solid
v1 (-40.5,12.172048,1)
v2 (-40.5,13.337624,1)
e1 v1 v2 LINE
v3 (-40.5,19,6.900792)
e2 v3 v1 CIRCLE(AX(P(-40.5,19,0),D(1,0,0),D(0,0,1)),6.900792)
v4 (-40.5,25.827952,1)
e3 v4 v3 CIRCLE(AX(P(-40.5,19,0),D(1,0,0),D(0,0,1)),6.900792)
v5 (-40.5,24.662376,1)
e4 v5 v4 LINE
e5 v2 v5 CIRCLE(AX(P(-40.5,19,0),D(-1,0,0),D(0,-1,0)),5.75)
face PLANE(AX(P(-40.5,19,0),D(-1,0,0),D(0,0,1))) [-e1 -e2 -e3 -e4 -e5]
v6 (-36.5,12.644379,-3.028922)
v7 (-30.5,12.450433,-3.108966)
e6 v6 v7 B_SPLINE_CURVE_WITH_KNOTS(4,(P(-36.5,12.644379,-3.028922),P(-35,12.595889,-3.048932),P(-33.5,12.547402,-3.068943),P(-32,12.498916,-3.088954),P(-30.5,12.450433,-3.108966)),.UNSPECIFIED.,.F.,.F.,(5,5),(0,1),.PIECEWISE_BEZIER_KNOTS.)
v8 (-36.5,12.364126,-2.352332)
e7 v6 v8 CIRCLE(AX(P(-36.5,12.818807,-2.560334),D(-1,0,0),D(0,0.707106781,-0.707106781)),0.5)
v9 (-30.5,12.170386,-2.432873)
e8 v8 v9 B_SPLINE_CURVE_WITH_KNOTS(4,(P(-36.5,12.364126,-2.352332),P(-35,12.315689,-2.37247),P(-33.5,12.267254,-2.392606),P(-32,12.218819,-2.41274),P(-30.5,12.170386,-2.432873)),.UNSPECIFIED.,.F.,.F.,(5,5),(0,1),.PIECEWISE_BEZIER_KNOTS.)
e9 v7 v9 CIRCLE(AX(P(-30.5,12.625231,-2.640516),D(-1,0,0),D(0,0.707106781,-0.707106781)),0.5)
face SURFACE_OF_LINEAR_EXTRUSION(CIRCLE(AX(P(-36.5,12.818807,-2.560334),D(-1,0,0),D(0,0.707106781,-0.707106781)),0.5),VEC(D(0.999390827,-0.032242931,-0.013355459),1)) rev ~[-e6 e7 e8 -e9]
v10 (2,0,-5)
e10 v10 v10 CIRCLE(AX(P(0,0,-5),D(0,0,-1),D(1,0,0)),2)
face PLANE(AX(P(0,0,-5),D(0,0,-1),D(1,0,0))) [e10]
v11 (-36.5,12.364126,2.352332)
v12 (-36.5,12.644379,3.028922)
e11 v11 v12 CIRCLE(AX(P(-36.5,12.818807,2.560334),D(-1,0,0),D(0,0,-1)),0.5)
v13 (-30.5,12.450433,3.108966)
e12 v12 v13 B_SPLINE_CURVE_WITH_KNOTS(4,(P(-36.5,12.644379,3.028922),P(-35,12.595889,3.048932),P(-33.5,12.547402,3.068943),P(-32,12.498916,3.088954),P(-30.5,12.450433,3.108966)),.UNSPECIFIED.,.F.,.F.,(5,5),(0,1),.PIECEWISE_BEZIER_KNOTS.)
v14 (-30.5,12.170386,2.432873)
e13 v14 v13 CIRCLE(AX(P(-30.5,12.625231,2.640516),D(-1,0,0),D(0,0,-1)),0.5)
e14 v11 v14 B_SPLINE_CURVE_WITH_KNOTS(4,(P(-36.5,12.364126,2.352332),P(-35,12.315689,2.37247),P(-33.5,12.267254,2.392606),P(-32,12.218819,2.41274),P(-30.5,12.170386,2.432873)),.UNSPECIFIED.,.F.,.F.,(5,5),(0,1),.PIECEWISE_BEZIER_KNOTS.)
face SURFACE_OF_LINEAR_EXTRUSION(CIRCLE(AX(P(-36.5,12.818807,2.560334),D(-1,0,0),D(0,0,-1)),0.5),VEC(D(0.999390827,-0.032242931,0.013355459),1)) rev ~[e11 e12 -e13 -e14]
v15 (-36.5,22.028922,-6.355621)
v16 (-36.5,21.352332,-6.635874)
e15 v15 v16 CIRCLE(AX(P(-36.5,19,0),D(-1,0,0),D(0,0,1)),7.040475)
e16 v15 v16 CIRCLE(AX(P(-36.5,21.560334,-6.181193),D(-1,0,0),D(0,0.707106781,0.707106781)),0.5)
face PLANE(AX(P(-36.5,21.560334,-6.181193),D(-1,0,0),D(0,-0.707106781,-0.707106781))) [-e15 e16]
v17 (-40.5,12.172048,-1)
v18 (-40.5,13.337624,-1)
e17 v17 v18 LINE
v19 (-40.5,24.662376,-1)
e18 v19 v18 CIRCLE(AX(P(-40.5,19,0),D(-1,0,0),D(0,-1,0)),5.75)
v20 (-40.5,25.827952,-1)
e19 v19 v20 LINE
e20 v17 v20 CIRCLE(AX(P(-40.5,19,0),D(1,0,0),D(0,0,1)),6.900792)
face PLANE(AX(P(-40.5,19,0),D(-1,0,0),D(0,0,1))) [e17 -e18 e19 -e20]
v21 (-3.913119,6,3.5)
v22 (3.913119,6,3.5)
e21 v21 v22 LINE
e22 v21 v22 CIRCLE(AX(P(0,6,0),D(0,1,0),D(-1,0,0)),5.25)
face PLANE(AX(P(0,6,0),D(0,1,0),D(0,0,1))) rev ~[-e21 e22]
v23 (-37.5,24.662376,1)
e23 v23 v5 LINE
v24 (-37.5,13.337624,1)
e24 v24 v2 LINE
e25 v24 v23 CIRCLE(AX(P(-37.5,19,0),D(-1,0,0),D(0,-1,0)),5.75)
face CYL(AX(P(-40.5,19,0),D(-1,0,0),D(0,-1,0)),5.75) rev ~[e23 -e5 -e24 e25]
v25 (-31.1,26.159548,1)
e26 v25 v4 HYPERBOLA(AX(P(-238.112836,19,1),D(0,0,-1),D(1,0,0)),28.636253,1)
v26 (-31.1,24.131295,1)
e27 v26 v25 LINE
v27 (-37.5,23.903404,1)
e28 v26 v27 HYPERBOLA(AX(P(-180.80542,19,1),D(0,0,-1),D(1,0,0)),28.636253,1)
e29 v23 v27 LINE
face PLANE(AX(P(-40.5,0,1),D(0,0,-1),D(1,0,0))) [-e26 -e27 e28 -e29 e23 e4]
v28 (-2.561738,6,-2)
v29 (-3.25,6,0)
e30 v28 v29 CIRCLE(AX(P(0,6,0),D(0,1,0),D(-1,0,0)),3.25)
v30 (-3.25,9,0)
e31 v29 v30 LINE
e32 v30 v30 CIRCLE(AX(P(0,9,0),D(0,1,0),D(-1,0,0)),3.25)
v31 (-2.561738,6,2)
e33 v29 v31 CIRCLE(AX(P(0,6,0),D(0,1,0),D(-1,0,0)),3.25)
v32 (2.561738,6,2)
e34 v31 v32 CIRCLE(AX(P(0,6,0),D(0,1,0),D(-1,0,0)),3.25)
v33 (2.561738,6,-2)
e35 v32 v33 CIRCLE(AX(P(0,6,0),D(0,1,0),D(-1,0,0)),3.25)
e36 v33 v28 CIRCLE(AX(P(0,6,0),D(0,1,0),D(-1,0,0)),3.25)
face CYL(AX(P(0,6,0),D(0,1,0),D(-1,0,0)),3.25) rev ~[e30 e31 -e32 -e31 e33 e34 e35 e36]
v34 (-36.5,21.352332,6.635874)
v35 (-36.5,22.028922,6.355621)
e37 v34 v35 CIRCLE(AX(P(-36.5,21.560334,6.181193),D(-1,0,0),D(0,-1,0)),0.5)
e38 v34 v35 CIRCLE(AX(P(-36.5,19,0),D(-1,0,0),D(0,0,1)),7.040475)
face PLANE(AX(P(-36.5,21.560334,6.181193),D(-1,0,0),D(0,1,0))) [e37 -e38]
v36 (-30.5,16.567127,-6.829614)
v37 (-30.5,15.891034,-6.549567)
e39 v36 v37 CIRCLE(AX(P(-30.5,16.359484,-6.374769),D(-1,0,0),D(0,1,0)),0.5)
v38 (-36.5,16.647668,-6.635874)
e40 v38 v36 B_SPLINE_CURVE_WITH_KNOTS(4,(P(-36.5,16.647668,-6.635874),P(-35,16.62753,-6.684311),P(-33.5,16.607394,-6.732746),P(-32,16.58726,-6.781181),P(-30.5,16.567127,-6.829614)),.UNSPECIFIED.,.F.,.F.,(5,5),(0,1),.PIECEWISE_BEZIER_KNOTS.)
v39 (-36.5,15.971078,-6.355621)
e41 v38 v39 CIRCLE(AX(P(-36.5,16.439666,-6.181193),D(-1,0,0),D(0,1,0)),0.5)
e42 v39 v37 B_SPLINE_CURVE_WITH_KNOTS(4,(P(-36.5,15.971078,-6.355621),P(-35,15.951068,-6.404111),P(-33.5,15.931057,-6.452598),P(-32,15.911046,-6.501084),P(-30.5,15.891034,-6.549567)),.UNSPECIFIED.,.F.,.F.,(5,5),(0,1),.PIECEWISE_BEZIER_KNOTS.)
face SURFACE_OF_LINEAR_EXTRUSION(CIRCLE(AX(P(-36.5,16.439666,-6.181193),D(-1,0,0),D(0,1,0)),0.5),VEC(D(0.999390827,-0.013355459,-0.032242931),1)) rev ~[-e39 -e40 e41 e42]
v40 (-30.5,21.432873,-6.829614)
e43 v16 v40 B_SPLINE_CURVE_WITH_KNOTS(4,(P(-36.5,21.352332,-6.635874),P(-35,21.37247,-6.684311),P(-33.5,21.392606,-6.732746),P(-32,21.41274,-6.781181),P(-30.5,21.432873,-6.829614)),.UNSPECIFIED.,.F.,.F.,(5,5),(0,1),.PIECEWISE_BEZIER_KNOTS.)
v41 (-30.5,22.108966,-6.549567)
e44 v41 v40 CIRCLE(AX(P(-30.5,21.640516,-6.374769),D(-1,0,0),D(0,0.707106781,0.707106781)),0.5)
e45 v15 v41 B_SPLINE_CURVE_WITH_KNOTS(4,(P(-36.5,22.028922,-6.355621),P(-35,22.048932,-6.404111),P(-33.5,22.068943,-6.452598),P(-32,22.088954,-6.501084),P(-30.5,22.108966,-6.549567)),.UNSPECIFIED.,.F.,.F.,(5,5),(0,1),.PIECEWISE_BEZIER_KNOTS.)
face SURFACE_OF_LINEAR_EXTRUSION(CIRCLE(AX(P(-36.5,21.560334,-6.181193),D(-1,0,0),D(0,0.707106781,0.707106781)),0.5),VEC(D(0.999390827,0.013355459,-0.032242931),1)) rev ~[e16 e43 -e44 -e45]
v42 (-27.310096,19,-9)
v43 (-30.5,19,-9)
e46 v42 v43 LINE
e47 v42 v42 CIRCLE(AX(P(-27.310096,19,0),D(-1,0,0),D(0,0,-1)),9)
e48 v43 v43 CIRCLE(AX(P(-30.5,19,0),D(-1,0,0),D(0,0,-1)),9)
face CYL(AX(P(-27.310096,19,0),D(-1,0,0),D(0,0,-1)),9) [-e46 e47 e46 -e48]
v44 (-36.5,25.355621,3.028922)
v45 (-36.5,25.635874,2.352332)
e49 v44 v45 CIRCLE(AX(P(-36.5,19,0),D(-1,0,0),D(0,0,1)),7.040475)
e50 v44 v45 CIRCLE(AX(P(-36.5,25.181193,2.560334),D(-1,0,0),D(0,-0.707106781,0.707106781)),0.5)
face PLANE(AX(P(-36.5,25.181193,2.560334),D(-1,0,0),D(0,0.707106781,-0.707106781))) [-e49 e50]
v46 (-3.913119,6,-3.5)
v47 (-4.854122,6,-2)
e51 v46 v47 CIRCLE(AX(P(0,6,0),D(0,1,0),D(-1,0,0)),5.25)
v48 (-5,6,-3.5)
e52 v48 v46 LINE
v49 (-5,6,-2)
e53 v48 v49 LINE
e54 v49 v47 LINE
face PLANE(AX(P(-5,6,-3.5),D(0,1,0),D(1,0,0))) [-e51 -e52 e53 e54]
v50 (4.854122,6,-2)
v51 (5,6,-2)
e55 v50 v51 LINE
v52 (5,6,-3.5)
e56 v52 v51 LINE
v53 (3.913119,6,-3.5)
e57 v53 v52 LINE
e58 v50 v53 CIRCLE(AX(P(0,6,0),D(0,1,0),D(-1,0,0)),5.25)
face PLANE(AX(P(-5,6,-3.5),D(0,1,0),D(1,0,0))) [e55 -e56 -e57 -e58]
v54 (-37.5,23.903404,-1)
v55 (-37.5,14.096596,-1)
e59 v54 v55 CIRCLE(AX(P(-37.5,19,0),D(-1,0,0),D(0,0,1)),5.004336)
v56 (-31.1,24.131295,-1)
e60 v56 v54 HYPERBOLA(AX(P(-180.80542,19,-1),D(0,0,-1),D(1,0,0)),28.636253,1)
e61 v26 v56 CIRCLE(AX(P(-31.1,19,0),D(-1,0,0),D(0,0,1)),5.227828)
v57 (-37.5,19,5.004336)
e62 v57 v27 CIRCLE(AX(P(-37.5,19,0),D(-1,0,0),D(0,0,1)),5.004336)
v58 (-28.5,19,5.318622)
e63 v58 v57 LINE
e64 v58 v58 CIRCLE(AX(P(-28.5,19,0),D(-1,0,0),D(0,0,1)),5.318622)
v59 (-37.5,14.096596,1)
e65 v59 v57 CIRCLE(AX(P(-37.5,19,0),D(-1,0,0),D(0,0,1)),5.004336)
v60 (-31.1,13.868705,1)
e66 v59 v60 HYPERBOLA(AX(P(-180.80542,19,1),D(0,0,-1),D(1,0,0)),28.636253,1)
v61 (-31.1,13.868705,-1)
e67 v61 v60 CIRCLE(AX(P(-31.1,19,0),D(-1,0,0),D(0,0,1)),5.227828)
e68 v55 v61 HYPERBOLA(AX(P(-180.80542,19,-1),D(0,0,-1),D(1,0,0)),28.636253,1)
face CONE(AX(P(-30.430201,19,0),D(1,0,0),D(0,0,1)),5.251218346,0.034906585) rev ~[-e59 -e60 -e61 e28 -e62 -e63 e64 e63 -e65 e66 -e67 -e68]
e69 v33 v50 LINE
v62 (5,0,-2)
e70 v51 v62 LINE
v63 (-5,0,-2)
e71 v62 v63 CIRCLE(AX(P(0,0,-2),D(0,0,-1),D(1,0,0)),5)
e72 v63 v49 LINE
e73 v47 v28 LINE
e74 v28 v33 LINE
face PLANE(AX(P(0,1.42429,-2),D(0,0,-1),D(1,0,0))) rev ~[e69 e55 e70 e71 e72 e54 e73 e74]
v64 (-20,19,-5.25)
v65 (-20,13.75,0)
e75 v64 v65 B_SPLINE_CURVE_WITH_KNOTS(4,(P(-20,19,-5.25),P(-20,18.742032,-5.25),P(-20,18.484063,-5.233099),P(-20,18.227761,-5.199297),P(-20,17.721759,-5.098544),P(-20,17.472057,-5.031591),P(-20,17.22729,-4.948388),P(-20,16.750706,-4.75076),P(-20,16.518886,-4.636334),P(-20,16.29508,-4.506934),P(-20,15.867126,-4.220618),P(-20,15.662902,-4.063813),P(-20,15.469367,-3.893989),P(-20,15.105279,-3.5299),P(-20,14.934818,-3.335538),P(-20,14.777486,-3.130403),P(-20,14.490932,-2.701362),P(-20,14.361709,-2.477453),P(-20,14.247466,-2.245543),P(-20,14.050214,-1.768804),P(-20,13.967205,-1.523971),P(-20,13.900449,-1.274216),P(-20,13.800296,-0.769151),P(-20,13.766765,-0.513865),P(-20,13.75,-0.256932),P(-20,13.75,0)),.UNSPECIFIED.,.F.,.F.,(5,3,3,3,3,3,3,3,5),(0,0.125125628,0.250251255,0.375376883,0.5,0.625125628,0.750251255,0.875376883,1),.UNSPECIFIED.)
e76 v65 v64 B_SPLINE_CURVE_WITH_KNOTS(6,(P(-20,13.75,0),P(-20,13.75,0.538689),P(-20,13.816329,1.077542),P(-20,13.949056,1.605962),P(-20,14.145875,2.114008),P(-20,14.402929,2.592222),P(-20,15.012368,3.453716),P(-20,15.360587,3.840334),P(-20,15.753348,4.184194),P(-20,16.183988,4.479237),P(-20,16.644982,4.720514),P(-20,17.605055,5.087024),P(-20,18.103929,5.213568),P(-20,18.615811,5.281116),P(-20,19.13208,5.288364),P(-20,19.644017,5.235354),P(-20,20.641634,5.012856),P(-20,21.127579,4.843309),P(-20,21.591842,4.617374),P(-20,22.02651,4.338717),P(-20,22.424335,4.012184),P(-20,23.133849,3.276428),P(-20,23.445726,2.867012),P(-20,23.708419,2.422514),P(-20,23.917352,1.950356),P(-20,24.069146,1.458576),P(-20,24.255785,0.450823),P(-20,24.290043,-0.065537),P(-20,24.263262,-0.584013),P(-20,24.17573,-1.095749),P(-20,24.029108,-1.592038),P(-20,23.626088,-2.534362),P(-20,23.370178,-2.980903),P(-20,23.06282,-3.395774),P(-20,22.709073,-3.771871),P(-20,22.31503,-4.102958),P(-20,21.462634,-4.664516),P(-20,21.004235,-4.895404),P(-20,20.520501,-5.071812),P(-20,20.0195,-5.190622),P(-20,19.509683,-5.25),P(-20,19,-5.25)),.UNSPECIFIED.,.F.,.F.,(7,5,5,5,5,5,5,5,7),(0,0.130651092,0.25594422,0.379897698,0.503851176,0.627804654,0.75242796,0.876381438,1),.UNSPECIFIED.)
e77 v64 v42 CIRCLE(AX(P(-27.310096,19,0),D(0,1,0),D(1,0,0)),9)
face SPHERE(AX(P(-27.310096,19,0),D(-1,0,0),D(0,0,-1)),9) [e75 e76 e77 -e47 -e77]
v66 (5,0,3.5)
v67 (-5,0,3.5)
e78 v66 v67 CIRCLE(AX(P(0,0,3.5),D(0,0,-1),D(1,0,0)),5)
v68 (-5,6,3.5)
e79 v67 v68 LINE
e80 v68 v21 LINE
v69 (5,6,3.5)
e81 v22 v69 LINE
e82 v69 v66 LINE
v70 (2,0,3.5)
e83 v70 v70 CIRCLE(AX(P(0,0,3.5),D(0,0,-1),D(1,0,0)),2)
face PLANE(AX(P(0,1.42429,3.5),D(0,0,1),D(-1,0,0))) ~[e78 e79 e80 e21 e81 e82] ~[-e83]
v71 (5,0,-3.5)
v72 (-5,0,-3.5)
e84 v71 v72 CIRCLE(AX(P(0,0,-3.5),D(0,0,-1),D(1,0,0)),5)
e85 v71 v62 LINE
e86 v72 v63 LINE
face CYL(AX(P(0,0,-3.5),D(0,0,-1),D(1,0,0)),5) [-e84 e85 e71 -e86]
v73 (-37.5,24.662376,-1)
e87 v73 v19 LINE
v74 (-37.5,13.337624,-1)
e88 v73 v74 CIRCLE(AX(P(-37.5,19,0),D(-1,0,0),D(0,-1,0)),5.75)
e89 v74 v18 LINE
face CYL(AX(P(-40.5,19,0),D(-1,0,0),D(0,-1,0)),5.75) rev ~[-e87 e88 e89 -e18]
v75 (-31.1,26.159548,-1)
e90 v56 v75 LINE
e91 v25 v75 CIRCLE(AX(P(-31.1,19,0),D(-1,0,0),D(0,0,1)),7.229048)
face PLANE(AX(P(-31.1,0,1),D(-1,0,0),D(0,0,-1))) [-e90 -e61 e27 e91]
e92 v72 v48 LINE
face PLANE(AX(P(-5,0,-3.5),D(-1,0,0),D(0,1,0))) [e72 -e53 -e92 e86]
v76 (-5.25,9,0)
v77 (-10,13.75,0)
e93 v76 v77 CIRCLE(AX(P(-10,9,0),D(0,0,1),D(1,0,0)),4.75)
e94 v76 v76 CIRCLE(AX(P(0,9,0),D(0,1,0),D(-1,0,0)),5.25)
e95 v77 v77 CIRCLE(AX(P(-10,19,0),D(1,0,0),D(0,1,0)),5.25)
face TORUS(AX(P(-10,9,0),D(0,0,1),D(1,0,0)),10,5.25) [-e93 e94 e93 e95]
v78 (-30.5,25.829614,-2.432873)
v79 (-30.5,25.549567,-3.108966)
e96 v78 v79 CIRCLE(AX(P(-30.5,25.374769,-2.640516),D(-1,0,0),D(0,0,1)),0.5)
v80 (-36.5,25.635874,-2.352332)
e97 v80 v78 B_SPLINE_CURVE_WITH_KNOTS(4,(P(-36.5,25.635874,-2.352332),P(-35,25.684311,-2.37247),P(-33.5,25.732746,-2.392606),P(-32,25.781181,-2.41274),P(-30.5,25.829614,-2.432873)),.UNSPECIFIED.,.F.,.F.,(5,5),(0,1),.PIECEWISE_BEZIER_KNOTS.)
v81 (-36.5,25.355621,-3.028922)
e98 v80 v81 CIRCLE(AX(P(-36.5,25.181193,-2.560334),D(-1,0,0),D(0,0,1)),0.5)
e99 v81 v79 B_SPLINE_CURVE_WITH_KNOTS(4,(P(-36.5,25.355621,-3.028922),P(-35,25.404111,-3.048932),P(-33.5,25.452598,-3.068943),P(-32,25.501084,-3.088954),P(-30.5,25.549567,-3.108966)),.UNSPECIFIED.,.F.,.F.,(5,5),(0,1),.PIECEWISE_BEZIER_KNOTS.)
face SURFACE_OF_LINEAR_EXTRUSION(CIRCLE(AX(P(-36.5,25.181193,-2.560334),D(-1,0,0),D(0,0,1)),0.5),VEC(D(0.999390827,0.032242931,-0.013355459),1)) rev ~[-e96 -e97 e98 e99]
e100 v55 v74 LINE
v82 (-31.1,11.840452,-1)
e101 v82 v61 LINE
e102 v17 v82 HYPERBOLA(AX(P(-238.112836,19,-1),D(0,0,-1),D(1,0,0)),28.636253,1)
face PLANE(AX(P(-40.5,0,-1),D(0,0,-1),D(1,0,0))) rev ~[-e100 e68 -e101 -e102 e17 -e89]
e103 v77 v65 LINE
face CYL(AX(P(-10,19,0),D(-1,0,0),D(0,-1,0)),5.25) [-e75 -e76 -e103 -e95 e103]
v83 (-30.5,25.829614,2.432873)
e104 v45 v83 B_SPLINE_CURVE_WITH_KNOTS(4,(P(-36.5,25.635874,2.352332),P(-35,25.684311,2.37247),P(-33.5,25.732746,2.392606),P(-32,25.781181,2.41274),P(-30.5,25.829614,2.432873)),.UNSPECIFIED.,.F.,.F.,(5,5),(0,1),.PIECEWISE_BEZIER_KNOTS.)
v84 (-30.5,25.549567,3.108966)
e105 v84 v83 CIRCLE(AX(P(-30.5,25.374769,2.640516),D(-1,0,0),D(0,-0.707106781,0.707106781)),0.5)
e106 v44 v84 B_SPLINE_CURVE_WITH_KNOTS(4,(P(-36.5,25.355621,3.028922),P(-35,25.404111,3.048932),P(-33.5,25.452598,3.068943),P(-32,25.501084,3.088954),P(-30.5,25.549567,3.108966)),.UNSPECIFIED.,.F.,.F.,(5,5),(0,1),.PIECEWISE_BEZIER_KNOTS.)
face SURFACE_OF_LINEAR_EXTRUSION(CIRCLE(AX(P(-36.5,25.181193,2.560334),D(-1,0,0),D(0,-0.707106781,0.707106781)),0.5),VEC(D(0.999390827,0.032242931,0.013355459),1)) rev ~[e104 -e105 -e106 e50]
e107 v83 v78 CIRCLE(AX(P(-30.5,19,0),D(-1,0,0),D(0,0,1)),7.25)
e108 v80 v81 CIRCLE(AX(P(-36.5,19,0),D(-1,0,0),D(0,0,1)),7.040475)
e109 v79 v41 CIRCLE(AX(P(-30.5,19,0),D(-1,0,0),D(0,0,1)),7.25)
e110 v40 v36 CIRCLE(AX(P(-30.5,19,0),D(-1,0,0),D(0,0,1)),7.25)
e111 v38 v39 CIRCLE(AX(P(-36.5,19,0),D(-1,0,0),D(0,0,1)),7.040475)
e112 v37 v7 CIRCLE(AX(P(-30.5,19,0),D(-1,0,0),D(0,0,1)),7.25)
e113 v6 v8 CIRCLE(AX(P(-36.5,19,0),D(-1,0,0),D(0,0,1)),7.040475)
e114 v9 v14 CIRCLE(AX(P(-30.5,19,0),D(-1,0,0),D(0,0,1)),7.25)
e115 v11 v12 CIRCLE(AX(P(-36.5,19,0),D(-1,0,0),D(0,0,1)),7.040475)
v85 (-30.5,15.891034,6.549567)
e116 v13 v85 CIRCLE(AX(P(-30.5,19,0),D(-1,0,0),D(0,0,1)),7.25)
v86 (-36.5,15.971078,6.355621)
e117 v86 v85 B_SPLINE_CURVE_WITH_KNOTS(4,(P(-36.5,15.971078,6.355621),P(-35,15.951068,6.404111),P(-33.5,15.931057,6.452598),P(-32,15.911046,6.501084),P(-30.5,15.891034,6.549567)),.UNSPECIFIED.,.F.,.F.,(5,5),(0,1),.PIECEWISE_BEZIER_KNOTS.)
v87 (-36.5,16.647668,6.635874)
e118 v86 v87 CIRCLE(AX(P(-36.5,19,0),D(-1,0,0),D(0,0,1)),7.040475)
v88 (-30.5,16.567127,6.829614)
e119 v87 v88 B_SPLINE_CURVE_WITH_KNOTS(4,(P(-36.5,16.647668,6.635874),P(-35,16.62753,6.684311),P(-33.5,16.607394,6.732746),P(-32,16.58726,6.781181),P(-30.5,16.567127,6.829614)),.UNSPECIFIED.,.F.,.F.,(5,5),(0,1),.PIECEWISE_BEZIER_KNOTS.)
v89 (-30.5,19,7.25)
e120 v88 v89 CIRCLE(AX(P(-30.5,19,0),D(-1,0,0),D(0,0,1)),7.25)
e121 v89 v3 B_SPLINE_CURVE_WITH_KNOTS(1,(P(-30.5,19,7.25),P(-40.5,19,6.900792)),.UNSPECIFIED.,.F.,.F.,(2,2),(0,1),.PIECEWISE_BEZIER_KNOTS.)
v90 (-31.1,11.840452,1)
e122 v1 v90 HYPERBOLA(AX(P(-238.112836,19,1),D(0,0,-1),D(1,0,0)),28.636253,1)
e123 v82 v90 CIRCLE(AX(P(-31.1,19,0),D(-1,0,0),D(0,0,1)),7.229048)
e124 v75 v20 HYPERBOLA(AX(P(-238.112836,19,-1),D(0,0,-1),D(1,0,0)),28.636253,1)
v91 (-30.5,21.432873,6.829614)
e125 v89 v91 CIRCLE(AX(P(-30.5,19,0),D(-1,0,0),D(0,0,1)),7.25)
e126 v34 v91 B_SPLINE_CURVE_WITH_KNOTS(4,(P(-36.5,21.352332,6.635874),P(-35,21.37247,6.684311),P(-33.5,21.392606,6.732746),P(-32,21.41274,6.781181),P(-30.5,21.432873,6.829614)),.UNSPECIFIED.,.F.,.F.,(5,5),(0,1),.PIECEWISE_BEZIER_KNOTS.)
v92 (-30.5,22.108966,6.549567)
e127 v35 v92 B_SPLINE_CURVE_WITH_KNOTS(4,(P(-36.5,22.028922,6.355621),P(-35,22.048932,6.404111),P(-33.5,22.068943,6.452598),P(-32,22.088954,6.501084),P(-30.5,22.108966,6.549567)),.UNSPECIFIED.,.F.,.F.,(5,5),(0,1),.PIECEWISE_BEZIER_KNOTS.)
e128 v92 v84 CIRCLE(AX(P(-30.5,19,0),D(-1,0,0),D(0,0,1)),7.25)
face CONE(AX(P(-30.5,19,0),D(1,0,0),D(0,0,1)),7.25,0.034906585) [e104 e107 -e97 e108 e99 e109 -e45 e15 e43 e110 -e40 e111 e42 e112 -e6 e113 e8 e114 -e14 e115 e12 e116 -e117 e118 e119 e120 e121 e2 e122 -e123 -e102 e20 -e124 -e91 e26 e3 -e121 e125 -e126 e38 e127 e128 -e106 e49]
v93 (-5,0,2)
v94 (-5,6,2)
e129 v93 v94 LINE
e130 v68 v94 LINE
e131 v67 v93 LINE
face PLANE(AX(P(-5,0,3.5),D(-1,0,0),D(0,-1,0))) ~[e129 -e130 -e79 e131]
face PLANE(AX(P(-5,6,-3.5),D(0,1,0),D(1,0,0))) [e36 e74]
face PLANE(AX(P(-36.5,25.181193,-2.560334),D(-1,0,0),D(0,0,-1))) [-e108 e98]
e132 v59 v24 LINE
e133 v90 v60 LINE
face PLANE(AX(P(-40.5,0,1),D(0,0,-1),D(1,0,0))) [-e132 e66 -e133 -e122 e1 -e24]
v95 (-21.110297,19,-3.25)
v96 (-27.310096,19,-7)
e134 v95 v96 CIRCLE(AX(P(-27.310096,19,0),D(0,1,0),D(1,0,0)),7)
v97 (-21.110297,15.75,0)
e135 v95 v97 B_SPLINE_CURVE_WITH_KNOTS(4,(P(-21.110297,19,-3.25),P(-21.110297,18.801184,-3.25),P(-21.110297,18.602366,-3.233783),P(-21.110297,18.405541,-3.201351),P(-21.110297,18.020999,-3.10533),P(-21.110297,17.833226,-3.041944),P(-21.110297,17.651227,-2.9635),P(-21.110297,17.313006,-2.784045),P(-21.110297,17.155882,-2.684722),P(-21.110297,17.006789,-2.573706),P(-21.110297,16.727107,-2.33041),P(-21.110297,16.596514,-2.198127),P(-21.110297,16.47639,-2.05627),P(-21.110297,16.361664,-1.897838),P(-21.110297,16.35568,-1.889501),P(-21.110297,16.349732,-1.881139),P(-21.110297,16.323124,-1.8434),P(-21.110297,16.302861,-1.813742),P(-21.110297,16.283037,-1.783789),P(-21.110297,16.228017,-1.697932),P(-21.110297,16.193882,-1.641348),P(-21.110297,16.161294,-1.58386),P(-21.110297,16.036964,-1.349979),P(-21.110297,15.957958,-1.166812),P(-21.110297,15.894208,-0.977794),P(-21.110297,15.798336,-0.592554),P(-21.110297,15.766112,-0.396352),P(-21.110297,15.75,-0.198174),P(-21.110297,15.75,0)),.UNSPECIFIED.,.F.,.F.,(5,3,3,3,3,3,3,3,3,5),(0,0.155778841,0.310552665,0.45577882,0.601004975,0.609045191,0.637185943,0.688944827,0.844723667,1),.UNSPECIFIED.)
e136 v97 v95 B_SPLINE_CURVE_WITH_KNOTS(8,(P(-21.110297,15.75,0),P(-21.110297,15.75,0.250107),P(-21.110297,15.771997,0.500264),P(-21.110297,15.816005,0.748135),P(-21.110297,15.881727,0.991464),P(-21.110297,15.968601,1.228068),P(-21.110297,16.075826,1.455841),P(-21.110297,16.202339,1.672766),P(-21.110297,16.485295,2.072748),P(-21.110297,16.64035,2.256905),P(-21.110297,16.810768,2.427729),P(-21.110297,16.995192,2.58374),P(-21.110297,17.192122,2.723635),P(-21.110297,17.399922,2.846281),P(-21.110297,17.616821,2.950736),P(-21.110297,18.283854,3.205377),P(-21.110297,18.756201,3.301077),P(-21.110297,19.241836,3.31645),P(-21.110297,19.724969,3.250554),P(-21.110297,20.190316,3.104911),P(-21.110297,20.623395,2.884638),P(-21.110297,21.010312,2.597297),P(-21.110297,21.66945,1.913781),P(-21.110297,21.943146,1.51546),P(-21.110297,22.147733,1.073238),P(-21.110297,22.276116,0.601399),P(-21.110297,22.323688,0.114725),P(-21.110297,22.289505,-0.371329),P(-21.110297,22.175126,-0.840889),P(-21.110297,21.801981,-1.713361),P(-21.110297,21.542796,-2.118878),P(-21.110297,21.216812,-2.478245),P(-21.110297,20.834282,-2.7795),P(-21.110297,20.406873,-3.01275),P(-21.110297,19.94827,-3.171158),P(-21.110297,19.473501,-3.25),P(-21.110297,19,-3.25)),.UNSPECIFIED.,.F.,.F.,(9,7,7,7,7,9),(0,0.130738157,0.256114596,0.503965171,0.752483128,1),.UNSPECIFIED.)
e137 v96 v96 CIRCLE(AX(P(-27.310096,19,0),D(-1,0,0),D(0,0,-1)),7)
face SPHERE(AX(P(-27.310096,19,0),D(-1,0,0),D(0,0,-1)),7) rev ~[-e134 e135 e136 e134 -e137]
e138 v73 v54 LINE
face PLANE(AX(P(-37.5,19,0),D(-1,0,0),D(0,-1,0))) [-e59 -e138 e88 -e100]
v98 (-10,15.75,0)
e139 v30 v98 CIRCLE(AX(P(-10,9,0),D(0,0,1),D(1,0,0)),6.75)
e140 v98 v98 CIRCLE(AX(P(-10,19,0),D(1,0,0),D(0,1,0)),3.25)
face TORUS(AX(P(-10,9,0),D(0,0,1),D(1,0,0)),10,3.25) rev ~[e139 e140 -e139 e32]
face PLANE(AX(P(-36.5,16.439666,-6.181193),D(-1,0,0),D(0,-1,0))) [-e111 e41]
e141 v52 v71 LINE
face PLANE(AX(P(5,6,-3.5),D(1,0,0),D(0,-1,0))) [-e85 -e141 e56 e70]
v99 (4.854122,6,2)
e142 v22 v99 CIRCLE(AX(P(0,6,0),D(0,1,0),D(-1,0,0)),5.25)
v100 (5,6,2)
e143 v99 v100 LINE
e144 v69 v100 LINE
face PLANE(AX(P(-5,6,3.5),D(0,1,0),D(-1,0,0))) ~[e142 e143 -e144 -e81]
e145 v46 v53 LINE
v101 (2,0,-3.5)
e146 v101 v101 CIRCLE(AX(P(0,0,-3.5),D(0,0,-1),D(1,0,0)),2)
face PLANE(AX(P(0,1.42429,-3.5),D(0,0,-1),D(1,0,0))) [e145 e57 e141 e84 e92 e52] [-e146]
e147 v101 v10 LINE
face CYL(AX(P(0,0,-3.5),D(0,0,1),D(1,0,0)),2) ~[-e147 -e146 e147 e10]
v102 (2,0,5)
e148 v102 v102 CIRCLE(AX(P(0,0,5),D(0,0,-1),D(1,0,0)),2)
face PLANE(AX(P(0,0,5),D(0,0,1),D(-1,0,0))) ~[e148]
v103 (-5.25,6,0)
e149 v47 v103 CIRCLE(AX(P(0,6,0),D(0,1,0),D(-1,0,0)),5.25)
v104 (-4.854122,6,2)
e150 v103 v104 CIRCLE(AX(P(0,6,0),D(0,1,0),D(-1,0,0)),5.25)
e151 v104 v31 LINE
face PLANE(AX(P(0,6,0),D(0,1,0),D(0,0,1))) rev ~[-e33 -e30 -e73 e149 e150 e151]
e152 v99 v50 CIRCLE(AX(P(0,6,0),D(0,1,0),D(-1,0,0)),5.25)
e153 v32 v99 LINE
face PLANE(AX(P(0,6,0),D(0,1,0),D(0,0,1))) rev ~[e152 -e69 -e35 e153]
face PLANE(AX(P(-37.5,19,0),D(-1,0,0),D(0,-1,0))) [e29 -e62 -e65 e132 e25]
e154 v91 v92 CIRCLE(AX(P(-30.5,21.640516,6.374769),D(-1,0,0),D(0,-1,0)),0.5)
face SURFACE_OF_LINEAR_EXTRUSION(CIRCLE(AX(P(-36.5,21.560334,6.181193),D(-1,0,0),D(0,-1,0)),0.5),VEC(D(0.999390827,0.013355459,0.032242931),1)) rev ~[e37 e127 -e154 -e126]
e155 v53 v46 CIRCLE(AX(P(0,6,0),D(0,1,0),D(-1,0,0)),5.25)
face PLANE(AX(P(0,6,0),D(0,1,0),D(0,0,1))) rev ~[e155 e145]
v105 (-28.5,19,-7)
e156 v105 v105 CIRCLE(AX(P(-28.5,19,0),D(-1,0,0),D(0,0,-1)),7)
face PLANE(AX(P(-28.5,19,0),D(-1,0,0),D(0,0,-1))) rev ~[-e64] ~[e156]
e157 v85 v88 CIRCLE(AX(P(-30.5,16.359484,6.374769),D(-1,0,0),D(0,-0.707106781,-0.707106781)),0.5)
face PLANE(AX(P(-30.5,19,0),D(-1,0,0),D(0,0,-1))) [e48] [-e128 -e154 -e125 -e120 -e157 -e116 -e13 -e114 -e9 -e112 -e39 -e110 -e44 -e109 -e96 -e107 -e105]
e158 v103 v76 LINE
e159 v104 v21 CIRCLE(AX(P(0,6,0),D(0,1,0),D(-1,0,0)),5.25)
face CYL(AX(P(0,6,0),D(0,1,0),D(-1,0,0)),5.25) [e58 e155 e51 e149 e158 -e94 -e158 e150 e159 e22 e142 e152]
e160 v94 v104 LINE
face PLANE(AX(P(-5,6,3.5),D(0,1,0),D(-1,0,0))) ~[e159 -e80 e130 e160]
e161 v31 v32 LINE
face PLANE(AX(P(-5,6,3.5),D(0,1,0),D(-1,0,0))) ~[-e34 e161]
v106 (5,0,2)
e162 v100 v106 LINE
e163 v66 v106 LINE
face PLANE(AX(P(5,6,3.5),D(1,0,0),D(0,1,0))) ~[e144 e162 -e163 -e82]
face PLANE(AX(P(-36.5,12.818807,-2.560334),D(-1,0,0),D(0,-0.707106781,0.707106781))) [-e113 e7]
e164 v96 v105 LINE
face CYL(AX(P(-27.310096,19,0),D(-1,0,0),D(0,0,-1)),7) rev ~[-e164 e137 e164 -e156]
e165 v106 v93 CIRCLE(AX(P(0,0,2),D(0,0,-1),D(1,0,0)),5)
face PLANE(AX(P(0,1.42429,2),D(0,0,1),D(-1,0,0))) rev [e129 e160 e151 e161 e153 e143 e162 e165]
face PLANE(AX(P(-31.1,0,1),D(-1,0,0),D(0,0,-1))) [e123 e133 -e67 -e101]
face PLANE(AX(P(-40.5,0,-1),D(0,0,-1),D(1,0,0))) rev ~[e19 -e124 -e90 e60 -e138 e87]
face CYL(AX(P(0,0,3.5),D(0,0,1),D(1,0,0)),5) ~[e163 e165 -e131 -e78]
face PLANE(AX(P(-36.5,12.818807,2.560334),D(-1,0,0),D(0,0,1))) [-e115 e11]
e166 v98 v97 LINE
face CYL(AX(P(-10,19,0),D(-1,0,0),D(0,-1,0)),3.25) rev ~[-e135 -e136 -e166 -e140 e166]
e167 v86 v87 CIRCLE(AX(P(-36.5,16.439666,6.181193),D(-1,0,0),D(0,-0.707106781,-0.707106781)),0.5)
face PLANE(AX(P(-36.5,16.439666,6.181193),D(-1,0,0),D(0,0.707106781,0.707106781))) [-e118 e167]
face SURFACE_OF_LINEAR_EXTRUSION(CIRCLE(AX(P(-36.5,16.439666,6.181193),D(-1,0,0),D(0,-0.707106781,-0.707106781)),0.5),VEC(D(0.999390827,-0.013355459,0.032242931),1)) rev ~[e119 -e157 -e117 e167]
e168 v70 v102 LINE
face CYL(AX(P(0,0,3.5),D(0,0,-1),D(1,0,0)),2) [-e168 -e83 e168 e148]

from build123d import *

# Parameters (mm, degrees)
SKETCH1_R           = 5.25
SKETCH4_R           = 7.25
BOSS_EXTRUDE1_DEPTH = 10
BOSS_EXTRUDE1_TAPER = 2
SHELL1_T            = -2
SKETCH7_R           = 0.5
CIRPATTERN1_COUNT   = 8
SKETCH8_R           = 5.75
CUT_EXTRUDE1_DEPTH  = 3
SKETCH9_W           = 9.4
SKETCH9_H           = 2
CUT_EXTRUDE2_DEPTH  = 51.052472547
BOSS_EXTRUDE2_DEPTH = 1.5
SKETCH11_R          = 2
BOSS_EXTRUDE3_DEPTH = 1.5


with BuildPart() as part:
    # Base-Sweep: sweep along a path in Sketch2
    with BuildLine(Plane.XY) as base_sweep_path:
        Line((0, 6), (0, 9))
        ThreePointArc((0, 9), (-2.928932188, 16.071067812), (-10, 19))
        Line((-10, 19), (-25, 19))
    # Sketch1 → Base-Sweep (sweep)
    with BuildSketch(Plane(origin=(0, 6, 0), x_dir=(-1, 0, 0), z_dir=(0, 1, 0))):
        Circle(SKETCH1_R)
    sweep(path=base_sweep_path.line)

    # Sketch3 → Boss-Revolve1 (revolve)
    with BuildSketch(Plane.XY, mode=Mode.PRIVATE) as boss_revolve1_sk:
        with BuildLine():
            Line((-27.310095759, 28), (-30.5, 28))
            Line((-30.5, 28), (-30.5, 19))
            Line((-30.5, 19), (-18.310095759, 19))
            ThreePointArc((-18.310095759, 19), (-20.946134728, 25.363961031), (-27.310095759, 28))
        make_face()
    revolve(boss_revolve1_sk.sketch.rotate(Axis((-36.172167942, 19, 0), (-1, 0, 0)), 90), axis=Axis((-36.172167942, 19, 0), (-1, 0, 0)))

    # Sketch4 → Boss-Extrude1 (add)
    with BuildSketch(Plane.ZY.offset(30.5)):
        with Locations((0, 19)):
            Circle(SKETCH4_R)
    extrude(amount=BOSS_EXTRUDE1_DEPTH, taper=BOSS_EXTRUDE1_TAPER)

    # Shell1
    shell1_openings = [part.faces().sort_by_distance(p)[0] for p in [
        (-40.5, 19, 0),
        (0, 6, 0),
    ]]
    offset(amount=SHELL1_T, openings=shell1_openings, kind=Kind.INTERSECTION)

    # Boss-Sweep1: sweep along a path in Sketch6
    with BuildLine(Plane(origin=(0, 2.782485579, 6.717514421), x_dir=(1, 0, 0), z_dir=(0, 0.38268343236509056, 0.9238795325112865))) as boss_sweep1_path:
        Line((-36.5, 24.594186501), (-30.5, 24.803711118))
    # Sketch7 → Boss-Sweep1 (sweep)
    with BuildSketch(Plane.ZY.offset(30.5)):
        with Locations((-2.640515683, 25.374768774)):
            Circle(SKETCH7_R)
    boss_sweep1 = sweep(path=boss_sweep1_path.line)

    # CirPattern1: Boss-Sweep1 ×8 about axis
    cirpattern1_axis = Axis((-36.172167942, 19, 0), (-1, 0, 0))
    for i in range(1, CIRPATTERN1_COUNT):
        add(boss_sweep1.rotate(cirpattern1_axis, i * 360 / CIRPATTERN1_COUNT))

    # Sketch8 → Cut-Extrude1 (cut)
    with BuildSketch(Plane.ZY.offset(40.5)):
        with Locations(Location((0, 19, 0), (0, 0, 270))):
            Circle(SKETCH8_R)
    extrude(amount=-CUT_EXTRUDE1_DEPTH, mode=Mode.SUBTRACT)

    # Sketch9 → Cut-Extrude2 (cut, through all)
    with BuildSketch(Plane(origin=(0, 0, 0), x_dir=(1, 0, 0), z_dir=(0, 1, 0))):
        with Locations((-35.8, 0)):
            Rectangle(SKETCH9_W, SKETCH9_H)
    extrude(amount=CUT_EXTRUDE2_DEPTH, mode=Mode.SUBTRACT)

    # Sketch10 → Boss-Extrude2 (add)
    with BuildSketch(Plane(origin=(0, 12.319, -3.5), x_dir=(1, 0, 0), z_dir=(0, 0, -1))):
        with BuildLine():
            Line((-5, 6.319), (5, 6.319))
            Line((5, 6.319), (5, 12.319))
            ThreePointArc((5, 12.319), (0, 17.319), (-5, 12.319))
            Line((-5, 12.319), (-5, 6.319))
        make_face()
    boss_extrude2 = extrude(amount=-BOSS_EXTRUDE2_DEPTH)

    # Sketch11 → Boss-Extrude3 (add)
    with BuildSketch(Plane(origin=(0, 0, -3.5), x_dir=(-1, 0, 0), z_dir=(0, 0, -1))):
        with Locations(Location((0, 0, 0), (0, 0, 180))):
            Circle(SKETCH11_R)
    boss_extrude3 = extrude(amount=BOSS_EXTRUDE3_DEPTH)

    # Mirror1: Boss-Extrude2, Boss-Extrude3 across plane
    add(boss_extrude2.mirror(Plane.XY))
    add(boss_extrude3.mirror(Plane.XY))


solid = part.part
